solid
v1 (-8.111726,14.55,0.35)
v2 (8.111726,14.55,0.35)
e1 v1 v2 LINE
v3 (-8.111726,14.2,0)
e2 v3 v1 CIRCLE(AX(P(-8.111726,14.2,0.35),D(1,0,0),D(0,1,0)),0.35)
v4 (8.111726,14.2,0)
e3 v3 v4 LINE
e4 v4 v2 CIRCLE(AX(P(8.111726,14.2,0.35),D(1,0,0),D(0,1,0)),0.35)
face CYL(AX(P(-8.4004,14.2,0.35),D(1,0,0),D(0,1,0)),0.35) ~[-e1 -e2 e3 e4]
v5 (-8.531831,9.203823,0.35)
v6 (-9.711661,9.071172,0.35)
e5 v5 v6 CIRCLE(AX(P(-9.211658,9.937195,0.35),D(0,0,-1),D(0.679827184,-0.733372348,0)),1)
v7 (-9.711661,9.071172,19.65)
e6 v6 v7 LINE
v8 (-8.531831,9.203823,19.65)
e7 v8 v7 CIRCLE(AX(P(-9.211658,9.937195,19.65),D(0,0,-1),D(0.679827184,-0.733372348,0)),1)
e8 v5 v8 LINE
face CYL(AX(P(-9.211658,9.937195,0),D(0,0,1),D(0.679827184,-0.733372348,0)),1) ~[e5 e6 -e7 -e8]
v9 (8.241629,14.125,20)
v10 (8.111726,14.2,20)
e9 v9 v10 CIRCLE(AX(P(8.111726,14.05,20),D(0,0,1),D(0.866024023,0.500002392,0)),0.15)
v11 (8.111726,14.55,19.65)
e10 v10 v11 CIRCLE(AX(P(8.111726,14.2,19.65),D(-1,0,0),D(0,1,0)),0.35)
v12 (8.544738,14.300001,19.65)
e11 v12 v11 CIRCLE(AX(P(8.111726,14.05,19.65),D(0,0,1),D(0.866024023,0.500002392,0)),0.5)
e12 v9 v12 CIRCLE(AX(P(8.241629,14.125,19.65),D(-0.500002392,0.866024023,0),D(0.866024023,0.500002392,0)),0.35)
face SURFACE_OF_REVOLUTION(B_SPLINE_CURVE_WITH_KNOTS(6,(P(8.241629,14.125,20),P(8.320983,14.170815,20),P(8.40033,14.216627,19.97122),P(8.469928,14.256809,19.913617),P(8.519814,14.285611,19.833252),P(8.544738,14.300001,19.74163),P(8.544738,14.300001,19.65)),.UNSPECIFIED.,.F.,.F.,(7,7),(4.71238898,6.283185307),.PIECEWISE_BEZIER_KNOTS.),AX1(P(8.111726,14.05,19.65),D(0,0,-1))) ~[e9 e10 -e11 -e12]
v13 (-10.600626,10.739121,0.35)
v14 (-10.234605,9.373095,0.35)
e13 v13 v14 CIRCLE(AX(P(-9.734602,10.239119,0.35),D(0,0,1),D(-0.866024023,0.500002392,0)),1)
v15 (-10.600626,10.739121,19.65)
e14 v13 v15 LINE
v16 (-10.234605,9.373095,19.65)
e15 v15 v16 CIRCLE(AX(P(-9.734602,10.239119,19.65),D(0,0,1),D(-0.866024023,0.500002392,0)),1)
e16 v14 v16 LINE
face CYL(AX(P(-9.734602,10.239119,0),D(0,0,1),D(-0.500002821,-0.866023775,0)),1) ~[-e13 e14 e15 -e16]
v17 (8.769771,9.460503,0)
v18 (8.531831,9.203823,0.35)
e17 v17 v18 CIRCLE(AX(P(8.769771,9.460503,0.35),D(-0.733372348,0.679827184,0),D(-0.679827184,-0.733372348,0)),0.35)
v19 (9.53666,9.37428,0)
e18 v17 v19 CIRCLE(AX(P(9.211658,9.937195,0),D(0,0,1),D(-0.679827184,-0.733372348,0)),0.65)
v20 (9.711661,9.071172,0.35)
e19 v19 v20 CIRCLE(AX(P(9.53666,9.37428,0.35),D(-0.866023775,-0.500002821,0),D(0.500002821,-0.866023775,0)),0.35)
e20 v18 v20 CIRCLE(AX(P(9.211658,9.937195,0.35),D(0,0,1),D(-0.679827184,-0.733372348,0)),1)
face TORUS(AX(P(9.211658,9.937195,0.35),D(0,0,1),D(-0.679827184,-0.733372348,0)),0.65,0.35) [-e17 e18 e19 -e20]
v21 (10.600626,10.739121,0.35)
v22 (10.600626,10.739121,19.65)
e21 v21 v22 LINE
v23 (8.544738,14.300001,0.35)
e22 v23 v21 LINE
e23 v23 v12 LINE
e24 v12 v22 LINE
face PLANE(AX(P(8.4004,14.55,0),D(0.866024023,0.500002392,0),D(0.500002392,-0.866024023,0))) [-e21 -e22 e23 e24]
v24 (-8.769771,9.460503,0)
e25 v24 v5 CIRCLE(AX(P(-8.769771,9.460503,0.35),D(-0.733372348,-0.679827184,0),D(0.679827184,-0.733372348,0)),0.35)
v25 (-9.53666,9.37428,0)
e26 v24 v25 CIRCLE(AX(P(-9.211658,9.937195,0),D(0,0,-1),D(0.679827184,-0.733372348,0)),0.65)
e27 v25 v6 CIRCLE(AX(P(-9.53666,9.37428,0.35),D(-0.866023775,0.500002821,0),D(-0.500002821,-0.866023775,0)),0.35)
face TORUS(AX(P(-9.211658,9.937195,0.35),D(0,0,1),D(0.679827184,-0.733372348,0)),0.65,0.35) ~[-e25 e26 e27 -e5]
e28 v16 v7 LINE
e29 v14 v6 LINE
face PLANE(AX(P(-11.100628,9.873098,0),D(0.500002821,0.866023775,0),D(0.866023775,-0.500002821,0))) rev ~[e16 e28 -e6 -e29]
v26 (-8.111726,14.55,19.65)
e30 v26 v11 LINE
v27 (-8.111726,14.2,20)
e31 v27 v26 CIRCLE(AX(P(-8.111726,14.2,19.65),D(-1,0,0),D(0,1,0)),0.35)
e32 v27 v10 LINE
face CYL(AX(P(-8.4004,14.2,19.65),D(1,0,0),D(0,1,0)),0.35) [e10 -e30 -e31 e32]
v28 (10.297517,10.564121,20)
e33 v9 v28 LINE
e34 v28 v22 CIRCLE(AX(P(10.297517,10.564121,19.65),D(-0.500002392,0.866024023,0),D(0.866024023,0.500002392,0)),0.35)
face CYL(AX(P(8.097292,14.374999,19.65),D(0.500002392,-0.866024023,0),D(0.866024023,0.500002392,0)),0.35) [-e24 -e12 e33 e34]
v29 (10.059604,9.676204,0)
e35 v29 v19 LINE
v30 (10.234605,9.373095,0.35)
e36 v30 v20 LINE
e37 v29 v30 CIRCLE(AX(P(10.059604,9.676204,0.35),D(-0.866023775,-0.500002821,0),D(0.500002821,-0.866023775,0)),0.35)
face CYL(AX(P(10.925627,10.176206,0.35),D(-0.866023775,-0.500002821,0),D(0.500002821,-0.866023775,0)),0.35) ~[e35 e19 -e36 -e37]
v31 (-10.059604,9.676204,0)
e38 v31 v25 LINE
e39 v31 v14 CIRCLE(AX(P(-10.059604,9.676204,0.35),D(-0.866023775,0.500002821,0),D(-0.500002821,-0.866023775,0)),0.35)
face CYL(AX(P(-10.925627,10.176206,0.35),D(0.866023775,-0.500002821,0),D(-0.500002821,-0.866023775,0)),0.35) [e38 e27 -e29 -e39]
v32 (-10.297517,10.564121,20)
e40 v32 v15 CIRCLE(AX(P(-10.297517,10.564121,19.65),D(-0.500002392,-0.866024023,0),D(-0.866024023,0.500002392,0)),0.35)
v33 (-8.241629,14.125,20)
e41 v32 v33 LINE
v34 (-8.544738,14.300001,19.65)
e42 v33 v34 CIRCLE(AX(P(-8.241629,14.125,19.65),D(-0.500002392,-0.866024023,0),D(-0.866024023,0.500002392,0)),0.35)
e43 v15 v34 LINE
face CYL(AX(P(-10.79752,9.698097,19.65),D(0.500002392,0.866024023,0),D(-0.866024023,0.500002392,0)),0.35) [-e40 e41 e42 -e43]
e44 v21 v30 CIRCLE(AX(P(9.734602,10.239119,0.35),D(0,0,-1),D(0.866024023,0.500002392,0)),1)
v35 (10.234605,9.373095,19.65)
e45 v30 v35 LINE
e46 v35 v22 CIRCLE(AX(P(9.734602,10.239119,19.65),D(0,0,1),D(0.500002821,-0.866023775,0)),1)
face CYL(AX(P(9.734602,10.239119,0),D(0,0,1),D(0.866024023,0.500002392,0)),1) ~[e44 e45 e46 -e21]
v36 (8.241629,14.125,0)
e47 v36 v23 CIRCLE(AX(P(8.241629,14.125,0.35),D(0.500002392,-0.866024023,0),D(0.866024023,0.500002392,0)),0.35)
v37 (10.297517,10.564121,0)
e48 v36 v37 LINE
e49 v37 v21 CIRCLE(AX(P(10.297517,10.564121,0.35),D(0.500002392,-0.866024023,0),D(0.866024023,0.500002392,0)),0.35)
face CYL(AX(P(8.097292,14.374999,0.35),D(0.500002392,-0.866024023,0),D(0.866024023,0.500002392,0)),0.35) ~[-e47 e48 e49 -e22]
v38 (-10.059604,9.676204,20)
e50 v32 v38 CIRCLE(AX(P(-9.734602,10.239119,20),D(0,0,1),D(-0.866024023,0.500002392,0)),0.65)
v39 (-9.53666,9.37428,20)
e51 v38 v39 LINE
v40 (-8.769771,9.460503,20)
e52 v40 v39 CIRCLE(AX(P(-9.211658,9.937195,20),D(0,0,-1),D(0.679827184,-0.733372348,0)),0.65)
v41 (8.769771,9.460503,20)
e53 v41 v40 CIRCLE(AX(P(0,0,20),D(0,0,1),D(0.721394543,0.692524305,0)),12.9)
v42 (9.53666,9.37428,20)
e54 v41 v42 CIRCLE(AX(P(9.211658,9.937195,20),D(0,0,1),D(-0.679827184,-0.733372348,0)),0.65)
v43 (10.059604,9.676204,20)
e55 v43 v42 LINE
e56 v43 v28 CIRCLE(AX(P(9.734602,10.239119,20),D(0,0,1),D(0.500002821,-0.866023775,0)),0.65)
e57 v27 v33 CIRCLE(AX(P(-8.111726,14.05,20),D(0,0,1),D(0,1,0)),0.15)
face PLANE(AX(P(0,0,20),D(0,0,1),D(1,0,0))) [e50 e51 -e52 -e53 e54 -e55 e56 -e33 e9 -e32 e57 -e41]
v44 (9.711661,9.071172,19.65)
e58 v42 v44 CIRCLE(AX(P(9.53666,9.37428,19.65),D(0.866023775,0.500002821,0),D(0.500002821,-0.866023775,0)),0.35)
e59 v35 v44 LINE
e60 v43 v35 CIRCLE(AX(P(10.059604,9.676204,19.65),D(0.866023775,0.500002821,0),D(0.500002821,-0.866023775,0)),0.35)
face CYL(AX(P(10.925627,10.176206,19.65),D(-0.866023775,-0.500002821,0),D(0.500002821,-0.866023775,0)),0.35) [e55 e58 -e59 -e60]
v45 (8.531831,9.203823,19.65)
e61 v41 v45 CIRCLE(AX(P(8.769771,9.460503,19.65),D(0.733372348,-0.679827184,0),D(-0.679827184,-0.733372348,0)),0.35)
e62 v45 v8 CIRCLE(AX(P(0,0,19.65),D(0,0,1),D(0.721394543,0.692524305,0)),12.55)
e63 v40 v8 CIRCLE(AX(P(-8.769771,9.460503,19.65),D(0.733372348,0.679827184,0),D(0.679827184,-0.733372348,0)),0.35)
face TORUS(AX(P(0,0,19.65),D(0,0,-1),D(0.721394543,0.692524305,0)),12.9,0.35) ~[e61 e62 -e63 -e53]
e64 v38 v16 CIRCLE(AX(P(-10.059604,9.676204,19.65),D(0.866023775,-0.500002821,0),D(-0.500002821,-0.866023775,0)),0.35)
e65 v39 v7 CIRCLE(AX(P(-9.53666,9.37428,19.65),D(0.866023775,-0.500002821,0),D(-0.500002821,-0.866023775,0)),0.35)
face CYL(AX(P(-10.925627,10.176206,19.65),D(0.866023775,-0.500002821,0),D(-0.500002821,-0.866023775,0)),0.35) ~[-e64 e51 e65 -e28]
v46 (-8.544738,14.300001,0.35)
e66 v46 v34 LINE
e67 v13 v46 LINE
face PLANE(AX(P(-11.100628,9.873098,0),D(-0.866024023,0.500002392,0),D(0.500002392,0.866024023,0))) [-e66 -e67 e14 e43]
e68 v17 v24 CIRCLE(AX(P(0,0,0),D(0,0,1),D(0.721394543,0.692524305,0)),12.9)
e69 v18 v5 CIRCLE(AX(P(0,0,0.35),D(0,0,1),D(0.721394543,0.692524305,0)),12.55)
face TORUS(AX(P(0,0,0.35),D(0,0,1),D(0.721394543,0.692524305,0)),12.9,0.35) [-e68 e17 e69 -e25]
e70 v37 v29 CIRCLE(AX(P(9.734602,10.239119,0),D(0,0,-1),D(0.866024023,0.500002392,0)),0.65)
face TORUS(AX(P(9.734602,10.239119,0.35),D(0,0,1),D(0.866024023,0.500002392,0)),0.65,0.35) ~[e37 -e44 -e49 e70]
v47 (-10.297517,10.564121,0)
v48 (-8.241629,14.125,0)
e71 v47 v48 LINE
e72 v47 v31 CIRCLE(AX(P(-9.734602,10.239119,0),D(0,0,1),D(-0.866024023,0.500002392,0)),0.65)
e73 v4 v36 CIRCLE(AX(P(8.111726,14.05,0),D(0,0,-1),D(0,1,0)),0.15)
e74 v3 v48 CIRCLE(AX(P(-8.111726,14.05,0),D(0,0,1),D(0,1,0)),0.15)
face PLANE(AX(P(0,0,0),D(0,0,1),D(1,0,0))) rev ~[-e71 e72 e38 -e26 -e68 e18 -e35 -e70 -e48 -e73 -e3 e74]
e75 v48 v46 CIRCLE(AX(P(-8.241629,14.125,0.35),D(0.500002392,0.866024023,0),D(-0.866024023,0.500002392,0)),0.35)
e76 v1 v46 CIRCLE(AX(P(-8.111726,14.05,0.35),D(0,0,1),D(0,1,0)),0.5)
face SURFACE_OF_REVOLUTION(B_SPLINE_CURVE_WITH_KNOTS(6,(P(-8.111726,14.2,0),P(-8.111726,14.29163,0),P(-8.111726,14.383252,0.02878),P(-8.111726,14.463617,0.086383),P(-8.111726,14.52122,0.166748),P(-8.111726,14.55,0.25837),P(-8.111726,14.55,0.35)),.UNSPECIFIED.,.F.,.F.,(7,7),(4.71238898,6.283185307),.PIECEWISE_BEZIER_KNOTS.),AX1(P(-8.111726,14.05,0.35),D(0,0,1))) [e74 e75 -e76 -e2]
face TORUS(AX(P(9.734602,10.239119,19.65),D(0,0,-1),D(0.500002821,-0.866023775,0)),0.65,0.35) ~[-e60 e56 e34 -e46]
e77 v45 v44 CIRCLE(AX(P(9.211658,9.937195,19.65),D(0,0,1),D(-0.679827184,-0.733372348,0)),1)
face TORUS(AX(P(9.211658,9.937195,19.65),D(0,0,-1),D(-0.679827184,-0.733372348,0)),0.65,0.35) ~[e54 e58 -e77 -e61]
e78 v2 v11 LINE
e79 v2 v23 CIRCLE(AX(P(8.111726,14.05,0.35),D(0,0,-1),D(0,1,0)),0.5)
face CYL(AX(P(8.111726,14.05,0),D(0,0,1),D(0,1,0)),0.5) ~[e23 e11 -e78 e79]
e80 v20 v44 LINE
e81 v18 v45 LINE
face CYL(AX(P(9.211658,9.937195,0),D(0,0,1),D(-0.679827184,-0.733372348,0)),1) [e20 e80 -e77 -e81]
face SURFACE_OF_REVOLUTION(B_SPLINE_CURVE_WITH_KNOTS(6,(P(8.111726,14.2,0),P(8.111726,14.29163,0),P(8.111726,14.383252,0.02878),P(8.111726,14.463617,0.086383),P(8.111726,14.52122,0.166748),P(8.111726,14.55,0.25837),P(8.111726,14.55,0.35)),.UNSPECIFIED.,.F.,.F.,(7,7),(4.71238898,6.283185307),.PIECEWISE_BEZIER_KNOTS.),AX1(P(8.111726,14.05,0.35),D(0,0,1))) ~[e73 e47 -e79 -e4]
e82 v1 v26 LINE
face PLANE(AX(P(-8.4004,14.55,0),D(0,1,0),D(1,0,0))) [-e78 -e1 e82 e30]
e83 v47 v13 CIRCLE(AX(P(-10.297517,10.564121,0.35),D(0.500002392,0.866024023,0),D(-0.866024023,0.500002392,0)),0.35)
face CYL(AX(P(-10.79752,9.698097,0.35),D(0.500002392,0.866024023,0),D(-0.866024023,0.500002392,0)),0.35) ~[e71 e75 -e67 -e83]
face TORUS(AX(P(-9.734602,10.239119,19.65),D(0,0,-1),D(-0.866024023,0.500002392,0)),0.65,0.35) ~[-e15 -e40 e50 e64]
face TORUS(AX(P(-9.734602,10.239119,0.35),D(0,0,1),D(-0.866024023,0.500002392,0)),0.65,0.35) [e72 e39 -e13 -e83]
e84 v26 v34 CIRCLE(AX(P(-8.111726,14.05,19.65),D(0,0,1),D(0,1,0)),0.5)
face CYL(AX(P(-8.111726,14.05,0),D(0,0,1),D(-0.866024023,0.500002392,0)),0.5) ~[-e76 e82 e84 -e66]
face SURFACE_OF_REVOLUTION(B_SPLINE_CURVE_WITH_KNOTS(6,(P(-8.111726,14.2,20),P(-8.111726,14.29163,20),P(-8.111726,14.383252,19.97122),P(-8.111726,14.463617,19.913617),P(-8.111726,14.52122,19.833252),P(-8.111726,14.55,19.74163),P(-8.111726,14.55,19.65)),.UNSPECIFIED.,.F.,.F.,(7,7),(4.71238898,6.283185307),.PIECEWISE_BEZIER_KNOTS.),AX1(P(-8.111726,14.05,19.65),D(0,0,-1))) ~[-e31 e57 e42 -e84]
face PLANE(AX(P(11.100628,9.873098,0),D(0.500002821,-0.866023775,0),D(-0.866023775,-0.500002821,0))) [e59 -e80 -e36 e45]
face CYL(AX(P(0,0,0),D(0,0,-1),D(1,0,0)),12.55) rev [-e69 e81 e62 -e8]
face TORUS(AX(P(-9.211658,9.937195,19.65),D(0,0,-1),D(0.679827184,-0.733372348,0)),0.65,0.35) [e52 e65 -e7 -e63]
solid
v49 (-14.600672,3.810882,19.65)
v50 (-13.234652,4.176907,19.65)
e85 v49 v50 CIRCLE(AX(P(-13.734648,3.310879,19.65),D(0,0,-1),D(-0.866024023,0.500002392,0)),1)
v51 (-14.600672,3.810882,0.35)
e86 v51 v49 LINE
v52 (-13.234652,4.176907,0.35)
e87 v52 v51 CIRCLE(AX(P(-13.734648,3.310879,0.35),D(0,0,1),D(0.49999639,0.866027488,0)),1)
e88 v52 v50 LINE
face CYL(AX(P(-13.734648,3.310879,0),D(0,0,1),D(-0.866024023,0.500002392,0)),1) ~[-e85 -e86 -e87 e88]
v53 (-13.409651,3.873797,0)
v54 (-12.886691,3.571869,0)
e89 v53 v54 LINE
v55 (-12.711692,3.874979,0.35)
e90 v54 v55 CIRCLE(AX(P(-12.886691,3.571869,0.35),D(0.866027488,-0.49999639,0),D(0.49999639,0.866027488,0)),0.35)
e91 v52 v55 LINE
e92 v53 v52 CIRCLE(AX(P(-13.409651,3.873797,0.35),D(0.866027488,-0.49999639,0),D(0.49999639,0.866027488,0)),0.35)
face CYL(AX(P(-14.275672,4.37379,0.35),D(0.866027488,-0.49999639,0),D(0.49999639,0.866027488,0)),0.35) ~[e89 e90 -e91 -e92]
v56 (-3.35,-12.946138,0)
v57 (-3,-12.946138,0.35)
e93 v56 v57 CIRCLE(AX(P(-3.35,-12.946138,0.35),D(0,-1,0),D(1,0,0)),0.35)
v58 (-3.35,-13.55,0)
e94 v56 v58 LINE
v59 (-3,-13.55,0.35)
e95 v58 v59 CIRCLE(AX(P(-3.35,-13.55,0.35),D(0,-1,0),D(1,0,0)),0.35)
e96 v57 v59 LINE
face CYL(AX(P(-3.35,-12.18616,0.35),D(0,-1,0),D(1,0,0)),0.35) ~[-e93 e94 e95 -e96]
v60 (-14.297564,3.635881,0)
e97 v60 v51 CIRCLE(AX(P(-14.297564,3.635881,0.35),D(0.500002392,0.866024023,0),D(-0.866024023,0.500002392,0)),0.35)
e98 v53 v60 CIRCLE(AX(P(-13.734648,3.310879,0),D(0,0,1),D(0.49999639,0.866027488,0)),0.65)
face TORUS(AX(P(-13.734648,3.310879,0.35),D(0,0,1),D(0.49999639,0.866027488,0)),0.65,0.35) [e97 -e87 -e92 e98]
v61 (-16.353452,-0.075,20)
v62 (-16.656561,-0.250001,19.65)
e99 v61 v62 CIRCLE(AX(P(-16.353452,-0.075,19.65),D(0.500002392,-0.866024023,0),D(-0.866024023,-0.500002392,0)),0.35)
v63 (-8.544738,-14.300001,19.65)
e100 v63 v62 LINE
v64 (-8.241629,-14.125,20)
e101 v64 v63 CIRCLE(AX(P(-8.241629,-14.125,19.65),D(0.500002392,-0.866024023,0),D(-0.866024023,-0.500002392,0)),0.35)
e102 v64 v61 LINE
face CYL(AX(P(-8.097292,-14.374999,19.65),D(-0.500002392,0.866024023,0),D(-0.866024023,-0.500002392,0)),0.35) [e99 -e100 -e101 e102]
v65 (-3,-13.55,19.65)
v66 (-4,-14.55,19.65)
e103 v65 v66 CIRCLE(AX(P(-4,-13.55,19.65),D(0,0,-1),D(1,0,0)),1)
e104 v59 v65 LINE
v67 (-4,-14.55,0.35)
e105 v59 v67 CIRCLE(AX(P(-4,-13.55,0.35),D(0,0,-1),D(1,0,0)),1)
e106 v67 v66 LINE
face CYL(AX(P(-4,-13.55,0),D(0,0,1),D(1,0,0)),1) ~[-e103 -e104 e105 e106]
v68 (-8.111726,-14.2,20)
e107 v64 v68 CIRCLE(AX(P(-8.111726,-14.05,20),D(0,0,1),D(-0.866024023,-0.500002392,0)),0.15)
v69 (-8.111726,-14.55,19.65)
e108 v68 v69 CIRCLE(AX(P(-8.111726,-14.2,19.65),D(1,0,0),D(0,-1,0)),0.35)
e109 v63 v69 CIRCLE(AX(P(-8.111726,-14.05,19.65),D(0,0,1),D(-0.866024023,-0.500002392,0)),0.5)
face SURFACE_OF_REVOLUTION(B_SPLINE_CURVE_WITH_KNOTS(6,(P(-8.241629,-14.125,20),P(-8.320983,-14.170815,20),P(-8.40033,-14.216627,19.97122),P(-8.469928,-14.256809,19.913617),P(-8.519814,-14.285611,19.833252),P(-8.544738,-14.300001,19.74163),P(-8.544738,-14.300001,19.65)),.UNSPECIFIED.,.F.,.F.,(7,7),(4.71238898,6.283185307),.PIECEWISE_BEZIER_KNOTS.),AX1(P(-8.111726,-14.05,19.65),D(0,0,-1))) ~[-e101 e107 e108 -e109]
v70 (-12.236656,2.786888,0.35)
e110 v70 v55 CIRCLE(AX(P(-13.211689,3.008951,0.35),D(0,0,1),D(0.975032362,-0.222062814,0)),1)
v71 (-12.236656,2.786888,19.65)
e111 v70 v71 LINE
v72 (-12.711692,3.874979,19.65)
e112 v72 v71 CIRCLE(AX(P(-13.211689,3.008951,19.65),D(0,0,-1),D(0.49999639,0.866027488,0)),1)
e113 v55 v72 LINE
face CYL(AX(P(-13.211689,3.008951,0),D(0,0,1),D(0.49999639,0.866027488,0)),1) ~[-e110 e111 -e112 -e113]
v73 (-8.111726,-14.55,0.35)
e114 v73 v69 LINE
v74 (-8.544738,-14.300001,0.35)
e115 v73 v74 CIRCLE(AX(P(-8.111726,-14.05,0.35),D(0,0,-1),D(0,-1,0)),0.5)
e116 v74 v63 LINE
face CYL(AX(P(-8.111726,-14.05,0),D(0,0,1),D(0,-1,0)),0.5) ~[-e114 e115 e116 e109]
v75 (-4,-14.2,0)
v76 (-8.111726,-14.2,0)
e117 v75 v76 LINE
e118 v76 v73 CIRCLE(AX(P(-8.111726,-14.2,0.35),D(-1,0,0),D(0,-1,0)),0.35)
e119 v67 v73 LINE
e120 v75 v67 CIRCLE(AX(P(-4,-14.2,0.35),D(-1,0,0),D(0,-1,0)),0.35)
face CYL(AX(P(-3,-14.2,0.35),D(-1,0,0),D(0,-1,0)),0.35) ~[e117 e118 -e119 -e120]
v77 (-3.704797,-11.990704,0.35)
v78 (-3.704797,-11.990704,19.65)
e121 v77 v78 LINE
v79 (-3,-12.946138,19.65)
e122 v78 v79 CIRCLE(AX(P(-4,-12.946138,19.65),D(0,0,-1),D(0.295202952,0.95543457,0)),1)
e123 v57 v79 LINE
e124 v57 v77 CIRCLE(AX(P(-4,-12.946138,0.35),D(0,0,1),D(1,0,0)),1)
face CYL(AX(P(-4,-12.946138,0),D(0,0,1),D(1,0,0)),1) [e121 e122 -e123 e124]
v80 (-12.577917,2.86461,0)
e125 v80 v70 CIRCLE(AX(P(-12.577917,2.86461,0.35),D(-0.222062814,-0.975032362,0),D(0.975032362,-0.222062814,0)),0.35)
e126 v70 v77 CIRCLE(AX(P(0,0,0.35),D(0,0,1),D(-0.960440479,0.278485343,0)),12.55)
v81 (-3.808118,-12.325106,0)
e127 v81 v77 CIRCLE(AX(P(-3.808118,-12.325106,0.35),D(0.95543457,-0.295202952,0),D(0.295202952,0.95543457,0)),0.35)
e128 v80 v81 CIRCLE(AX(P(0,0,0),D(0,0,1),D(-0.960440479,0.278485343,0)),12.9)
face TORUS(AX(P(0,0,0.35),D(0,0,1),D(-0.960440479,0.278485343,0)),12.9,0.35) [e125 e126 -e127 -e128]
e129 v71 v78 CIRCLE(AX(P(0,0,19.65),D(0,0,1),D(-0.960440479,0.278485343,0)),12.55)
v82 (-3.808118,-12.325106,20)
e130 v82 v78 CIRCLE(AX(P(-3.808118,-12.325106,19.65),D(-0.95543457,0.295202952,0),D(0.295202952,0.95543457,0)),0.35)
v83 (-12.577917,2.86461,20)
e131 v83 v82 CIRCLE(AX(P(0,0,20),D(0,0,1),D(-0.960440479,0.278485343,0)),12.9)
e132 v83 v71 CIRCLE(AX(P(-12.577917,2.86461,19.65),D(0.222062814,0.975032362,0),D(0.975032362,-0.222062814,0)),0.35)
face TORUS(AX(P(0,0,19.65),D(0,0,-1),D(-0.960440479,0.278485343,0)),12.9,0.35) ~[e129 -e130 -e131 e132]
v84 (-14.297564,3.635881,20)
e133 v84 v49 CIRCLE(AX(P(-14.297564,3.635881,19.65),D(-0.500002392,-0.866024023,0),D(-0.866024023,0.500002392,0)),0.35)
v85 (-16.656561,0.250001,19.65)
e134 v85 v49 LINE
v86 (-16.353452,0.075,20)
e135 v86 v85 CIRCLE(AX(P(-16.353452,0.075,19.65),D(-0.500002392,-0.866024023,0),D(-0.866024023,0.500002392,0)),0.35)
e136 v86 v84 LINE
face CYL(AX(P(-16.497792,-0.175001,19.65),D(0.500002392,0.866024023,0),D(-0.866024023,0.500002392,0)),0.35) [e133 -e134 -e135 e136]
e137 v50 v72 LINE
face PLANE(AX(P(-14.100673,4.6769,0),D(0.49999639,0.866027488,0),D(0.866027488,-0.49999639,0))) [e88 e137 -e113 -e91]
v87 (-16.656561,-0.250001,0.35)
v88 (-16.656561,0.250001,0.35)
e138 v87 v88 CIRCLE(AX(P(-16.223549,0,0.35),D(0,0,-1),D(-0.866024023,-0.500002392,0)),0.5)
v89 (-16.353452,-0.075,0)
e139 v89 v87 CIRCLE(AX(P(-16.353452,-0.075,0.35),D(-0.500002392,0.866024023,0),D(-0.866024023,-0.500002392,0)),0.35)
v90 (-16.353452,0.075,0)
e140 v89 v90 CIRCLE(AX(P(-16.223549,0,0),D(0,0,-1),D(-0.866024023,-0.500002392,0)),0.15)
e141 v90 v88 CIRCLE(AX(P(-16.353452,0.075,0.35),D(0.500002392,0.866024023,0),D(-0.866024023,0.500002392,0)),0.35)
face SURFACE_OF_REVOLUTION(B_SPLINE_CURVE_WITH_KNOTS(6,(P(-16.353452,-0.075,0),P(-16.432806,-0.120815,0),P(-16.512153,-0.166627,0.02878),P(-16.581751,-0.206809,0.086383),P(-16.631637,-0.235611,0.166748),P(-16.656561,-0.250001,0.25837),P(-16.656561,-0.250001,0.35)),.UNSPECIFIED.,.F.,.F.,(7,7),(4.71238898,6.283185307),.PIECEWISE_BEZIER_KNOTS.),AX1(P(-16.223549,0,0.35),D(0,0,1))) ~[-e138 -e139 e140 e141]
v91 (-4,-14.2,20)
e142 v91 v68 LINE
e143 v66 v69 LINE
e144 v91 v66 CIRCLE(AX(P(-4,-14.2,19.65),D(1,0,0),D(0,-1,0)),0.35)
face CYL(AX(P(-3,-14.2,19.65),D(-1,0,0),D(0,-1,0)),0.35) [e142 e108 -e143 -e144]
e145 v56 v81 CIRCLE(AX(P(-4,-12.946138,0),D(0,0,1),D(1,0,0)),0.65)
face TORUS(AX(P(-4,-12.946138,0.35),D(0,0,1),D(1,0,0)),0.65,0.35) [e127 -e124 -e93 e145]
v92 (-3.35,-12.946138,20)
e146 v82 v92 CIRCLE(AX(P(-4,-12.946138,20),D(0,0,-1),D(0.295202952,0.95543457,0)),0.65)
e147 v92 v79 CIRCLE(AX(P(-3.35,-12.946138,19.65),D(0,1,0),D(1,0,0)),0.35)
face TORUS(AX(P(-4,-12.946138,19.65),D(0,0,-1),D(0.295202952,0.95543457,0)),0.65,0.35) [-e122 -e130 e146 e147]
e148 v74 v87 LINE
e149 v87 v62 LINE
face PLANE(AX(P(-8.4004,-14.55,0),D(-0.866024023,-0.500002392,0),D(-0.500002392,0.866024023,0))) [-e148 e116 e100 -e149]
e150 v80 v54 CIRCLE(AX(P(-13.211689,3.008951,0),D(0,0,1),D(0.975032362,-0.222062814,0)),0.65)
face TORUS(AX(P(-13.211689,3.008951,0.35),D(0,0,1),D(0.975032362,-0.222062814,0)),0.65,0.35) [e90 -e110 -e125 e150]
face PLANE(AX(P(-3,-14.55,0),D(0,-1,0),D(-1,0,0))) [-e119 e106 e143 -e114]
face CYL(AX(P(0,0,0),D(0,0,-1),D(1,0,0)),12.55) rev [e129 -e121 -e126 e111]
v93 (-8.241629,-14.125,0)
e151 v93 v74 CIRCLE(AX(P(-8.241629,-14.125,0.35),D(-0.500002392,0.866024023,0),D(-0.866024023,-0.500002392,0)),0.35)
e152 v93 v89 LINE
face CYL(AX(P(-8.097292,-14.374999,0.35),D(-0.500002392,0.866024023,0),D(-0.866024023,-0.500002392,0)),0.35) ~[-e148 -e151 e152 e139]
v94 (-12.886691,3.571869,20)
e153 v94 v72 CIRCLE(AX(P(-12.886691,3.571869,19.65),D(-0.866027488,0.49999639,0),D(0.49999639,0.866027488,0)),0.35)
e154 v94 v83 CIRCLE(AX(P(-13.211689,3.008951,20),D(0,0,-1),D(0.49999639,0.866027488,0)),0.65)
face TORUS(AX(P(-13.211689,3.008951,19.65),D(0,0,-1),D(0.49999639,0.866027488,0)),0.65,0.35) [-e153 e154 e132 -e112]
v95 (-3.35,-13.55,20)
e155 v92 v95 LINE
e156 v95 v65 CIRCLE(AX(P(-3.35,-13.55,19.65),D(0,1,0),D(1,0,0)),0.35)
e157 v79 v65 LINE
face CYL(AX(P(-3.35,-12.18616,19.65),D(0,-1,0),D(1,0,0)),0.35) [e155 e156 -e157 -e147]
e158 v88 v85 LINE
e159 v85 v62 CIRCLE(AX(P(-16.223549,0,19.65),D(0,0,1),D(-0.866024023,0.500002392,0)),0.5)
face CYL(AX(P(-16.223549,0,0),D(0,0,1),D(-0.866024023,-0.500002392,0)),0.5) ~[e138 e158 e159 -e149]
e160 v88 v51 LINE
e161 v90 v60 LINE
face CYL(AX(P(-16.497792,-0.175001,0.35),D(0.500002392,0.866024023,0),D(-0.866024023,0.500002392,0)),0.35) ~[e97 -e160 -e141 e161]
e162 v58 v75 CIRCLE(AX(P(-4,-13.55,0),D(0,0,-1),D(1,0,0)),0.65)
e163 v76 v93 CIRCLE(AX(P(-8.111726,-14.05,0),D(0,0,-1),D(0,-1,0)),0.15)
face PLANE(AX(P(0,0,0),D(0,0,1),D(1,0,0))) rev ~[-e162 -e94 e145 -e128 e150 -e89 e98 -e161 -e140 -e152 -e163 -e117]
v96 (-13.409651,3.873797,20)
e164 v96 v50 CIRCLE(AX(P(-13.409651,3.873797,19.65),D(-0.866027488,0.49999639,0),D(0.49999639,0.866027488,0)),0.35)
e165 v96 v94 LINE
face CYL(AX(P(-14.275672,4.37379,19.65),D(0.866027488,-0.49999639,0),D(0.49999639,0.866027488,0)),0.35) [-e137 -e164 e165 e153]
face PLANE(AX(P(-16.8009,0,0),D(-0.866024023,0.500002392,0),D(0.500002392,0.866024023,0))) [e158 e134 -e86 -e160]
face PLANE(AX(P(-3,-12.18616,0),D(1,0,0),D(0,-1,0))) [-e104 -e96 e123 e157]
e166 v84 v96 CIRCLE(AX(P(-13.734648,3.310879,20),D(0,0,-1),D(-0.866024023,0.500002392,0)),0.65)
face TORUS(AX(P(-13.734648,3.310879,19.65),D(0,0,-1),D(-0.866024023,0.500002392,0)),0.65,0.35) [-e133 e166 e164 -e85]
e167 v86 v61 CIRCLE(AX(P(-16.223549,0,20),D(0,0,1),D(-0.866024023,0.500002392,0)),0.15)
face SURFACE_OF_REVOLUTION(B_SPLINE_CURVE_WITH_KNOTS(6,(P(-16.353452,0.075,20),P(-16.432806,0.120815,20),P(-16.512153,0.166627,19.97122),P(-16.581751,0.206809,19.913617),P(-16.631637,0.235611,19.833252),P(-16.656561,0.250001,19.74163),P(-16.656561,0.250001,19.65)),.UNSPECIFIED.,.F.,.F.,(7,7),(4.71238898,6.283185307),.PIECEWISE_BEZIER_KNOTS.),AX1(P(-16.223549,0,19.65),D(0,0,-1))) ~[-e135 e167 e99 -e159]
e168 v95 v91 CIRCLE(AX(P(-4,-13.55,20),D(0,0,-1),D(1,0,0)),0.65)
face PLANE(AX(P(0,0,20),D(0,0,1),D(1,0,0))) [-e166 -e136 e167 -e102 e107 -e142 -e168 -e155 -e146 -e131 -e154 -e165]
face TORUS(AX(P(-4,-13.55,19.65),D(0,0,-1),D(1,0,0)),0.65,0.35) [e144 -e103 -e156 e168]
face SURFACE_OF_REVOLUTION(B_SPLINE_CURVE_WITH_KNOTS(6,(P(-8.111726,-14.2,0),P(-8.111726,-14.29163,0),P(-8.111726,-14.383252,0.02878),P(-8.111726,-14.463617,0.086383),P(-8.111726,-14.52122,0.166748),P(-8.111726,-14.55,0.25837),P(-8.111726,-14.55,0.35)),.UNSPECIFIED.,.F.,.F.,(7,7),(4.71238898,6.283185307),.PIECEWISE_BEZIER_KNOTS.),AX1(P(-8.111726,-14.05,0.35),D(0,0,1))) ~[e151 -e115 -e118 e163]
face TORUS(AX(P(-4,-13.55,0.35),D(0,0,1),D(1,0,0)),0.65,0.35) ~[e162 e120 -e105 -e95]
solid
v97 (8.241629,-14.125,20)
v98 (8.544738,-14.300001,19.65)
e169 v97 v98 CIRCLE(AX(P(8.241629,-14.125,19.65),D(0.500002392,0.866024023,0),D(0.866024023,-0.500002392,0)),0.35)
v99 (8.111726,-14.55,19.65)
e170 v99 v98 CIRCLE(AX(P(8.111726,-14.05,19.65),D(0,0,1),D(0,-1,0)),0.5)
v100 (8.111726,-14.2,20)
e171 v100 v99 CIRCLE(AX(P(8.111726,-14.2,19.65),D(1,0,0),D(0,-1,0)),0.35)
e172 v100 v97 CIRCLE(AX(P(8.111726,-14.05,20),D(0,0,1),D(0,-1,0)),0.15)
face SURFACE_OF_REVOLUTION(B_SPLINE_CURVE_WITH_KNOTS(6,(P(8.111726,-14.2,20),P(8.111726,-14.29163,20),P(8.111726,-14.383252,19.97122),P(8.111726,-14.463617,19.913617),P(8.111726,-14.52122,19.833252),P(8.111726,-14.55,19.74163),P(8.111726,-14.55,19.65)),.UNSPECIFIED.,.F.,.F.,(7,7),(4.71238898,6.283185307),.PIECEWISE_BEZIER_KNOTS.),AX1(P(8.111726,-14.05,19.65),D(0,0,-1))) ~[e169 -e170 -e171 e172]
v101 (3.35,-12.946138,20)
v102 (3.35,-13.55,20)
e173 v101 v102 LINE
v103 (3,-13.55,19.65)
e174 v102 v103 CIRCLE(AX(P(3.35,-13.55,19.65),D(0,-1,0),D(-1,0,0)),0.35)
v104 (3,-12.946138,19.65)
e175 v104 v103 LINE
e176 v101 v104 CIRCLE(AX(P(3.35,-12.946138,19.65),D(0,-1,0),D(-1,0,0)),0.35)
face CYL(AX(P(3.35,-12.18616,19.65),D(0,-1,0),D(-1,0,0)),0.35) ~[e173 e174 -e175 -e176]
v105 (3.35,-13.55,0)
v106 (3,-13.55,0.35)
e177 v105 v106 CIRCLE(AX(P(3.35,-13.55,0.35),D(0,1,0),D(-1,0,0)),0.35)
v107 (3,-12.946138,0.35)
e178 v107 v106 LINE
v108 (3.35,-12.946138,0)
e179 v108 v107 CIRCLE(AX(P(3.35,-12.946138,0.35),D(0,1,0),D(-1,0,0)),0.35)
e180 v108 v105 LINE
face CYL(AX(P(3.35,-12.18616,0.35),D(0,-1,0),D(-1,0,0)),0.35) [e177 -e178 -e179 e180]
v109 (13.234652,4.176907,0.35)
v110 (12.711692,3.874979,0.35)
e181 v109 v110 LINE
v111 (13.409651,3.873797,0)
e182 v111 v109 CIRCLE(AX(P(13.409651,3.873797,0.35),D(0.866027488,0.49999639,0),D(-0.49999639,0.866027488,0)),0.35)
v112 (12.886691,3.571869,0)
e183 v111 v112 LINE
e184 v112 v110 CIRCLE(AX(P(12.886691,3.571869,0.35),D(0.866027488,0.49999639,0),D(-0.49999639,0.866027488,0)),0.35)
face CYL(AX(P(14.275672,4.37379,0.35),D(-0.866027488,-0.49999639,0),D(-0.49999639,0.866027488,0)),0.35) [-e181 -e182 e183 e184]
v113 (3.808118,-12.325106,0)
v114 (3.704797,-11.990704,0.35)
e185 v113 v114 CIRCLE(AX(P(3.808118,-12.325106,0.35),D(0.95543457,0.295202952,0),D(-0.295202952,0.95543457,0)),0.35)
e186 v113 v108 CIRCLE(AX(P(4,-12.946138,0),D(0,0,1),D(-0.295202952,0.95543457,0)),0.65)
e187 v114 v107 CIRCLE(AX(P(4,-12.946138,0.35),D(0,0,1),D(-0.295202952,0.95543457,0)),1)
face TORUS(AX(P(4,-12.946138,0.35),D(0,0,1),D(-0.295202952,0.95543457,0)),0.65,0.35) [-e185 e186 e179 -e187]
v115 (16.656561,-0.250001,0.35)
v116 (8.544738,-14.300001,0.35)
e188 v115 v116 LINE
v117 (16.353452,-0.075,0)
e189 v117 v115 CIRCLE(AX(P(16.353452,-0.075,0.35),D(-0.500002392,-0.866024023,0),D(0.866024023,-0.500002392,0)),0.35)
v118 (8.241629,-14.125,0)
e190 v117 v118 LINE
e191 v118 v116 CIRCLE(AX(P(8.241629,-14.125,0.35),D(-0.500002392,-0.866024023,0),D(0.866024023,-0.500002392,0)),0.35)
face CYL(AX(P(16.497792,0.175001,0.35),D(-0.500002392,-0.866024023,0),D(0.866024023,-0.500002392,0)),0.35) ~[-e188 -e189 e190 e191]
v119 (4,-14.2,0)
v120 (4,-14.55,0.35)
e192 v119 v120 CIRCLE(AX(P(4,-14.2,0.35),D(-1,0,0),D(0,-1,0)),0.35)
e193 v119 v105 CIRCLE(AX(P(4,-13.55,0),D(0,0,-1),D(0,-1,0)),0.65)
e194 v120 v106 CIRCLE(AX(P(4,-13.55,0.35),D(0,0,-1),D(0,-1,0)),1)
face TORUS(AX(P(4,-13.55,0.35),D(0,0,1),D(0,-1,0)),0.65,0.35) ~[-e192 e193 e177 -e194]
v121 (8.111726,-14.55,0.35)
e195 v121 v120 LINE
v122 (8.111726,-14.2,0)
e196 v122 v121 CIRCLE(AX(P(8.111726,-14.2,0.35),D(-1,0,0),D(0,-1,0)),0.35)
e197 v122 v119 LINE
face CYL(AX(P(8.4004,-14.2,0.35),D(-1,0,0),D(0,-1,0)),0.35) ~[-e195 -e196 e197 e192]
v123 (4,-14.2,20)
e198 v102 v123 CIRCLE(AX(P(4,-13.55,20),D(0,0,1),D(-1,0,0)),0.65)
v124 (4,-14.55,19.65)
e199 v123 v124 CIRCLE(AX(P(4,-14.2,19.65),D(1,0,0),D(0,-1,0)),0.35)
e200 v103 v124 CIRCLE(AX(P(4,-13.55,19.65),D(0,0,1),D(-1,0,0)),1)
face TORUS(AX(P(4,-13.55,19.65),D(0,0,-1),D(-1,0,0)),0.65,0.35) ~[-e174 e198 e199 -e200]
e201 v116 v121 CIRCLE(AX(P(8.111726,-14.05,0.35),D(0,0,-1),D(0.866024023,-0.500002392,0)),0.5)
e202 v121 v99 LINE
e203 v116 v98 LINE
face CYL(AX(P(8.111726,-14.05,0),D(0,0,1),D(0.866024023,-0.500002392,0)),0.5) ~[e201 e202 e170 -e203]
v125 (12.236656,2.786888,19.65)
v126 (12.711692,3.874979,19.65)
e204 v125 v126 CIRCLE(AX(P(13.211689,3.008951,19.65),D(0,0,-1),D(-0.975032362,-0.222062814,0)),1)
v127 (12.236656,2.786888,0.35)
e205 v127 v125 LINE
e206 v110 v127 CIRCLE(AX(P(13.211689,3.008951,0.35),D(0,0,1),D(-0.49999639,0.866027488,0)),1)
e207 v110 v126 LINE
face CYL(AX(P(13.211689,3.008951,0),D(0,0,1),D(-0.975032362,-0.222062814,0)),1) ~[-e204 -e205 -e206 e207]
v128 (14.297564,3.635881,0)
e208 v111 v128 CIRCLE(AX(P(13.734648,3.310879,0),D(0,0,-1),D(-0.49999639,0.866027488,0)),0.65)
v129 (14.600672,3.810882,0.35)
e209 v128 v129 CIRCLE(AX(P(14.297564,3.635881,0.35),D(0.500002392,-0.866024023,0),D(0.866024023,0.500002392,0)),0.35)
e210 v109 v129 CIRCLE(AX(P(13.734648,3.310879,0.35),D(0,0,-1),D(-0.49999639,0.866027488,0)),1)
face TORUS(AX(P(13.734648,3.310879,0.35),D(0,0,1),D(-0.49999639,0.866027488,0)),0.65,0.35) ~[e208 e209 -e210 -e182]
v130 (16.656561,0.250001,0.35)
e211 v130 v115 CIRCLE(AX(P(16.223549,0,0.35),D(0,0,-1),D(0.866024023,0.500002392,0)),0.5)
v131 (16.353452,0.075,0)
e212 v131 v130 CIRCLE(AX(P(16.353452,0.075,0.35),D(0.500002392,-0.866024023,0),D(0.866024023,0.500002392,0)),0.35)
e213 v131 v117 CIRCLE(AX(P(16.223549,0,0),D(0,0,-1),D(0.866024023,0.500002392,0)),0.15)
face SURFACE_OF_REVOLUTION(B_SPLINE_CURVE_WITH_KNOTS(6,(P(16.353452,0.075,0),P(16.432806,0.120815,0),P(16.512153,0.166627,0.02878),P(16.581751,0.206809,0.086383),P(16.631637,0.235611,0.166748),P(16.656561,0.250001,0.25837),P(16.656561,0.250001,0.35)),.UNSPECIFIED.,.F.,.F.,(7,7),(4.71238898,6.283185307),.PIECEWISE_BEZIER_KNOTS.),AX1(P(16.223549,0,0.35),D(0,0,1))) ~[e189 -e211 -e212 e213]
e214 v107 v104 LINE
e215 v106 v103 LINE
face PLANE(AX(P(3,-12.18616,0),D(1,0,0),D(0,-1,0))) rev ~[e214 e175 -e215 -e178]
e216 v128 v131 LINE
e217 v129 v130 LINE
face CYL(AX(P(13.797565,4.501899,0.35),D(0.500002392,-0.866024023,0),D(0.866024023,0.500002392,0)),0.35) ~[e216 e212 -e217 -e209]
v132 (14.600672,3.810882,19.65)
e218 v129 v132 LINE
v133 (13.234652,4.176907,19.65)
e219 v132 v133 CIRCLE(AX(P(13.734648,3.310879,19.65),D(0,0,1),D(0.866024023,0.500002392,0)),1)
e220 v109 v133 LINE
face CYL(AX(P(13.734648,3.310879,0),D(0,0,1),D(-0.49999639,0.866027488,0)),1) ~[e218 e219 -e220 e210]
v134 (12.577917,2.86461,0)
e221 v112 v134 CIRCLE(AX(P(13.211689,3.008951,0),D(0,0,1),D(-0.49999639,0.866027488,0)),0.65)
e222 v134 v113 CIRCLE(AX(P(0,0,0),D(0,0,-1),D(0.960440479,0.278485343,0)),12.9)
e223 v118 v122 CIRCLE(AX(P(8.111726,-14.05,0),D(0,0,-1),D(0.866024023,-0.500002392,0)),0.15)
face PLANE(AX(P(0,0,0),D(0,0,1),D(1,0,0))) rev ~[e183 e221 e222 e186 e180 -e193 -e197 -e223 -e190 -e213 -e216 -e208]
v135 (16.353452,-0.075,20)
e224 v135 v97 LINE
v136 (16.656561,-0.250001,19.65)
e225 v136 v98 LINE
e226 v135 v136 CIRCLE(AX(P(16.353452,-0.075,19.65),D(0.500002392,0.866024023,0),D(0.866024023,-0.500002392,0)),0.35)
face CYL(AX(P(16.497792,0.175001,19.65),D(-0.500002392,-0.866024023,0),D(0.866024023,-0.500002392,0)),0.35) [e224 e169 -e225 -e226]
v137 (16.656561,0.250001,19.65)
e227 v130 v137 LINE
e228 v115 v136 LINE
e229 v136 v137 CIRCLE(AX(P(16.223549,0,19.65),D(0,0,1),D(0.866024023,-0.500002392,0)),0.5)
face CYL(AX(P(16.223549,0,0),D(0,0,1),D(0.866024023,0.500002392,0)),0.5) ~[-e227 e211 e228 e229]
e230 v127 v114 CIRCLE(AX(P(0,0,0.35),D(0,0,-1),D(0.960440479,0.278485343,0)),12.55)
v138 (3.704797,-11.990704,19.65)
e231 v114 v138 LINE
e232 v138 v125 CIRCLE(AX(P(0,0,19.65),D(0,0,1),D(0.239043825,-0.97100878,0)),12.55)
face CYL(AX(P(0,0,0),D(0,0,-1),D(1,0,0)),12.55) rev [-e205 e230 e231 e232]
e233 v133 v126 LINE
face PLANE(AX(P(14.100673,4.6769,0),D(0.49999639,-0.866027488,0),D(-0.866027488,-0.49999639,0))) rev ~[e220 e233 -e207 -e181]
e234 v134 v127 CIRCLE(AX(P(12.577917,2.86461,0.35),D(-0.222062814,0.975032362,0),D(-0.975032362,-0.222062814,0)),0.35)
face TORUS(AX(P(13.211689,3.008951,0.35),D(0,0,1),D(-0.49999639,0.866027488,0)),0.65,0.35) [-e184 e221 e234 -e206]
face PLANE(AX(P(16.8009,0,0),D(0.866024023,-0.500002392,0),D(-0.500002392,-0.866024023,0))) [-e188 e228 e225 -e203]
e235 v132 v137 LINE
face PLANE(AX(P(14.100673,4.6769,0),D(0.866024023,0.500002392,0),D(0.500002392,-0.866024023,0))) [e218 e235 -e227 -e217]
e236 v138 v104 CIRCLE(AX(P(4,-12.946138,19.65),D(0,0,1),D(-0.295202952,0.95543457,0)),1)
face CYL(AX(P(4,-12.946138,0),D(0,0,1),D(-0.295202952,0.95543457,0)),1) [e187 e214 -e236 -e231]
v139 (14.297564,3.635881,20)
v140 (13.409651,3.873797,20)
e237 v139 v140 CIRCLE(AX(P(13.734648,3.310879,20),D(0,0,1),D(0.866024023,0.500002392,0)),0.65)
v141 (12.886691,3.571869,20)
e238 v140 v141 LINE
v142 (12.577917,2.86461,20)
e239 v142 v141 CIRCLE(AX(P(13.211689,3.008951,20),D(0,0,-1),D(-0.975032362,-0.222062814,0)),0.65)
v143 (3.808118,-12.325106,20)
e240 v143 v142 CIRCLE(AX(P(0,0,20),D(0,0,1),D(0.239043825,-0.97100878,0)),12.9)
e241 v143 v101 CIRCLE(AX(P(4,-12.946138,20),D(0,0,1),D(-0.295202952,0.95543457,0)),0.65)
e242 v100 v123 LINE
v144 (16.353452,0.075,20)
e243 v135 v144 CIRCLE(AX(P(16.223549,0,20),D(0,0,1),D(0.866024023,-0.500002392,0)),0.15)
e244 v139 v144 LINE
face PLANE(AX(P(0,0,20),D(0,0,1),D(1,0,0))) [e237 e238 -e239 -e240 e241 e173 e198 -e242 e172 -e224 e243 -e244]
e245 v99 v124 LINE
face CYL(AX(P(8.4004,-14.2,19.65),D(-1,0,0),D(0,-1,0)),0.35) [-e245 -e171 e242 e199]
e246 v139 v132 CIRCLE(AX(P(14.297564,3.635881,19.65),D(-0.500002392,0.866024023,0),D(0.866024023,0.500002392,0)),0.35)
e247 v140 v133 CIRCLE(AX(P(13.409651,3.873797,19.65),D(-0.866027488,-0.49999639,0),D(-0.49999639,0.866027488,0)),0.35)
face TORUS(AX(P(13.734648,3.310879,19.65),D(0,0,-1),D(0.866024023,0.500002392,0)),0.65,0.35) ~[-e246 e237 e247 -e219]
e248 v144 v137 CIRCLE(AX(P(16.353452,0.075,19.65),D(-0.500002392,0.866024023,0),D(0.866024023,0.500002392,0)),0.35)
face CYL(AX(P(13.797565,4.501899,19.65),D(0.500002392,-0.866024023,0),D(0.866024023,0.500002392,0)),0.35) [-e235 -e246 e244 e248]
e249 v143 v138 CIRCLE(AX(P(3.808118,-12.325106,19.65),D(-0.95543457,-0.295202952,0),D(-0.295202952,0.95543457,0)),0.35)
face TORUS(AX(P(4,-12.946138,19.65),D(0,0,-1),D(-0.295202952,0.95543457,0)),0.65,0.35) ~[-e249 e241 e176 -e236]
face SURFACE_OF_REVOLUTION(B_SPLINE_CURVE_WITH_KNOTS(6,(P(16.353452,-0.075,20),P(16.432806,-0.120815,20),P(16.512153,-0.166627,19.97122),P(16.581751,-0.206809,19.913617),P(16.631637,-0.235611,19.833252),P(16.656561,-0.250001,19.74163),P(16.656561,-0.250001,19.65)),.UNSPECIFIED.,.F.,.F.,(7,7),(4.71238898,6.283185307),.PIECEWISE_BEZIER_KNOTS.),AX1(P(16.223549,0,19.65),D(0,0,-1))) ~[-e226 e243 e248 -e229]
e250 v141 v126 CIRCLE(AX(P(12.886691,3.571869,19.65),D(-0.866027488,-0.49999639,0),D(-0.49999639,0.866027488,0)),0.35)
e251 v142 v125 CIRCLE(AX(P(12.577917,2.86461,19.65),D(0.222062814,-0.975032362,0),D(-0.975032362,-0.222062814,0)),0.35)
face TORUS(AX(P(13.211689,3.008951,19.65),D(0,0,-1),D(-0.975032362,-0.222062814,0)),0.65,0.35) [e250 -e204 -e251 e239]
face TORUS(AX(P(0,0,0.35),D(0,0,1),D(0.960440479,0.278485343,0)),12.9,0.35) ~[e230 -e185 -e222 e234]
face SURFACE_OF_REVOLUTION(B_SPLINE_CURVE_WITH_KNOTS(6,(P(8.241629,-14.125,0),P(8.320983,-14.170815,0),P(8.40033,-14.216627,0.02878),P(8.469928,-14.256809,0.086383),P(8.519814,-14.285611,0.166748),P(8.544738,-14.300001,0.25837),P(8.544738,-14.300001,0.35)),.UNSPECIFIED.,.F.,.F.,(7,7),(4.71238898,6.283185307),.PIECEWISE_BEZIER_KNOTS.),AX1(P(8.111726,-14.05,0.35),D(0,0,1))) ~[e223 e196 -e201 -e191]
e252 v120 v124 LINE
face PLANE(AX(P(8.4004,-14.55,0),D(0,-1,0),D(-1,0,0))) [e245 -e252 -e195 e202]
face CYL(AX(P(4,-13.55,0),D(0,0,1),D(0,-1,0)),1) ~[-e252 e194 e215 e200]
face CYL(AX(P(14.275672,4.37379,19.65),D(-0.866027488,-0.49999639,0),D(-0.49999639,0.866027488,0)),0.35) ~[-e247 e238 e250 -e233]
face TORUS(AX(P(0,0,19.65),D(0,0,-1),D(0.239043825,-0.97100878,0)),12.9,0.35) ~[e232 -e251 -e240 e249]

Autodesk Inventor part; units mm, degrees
ref_plane "YZ Plane" through (0, 0, 0) normal (1, 0, 0) x (0, 1, 0)
ref_plane "XZ Plane" through (0, 0, 0) normal (0, 1, 0) x (-1, 0, 0)
ref_plane "XY Plane" through (0, 0, 0) normal (0, 0, 1) x (1, 0, 0)
sketch "Náčrt1" plane through (0, 0, 0) normal (0, 0, 1) x (1, 0, 0)
  circle A0 centre (0, 0) radius 12.55
  line L0 (8.4004, 14.55) -> (16.8009, 0)
  line L1 (16.8009, 0) -> (8.4004, -14.55)
  line L2 (8.4004, -14.55) -> (-8.4004, -14.55)
  line L3 (-8.4004, -14.55) -> (-16.8009, 0)
  line L4 (-16.8009, 0) -> (-8.4004, 14.55)
  line L5 (-8.4004, 14.55) -> (8.4004, 14.55)
  circle A1 centre (0, 0) radius 14 construction
  line L6 (-12.6007, 7.275) -> (0, 0)
  line L7 (0, 0) -> (0, -14.55)
  line L8 (-11.2676, 9.9695) -> (1.4776, 2.611)
  line L9 (-14.5304, 4.925) -> (-1.5224, -2.5851)
  line L10 (-3, -0.05) -> (-3, -14.55)
  line L11 (3, -0.05) -> (3, -14.55)
  line L12 (0, 14.55) -> (0, 0) construction
  line L13 (11.2676, 9.9695) -> (-1.4776, 2.611)
  line L14 (14.5304, 4.925) -> (1.5224, -2.5851)
  point P0 (14.1007, 4.6769)
  point P1 (12.0535, 3.495)
  point P2 (3, -12.1862)
  point P3 (3, -14.55)
  point P4 (-3, -14.55)
  point P5 (-3, -12.1862)
  point P6 (-12.0535, 3.495)
  point P7 (-14.1007, 4.6769)
  point P8 (-11.1007, 9.8731)
  point P9 (-9.0535, 8.6912)
  point P10 (9.0535, 8.6912)
  point P11 (11.1007, 9.8731)
  dimension "d0" = 25.1
  dimension "d1" = 14.55
  dimension "d2" = 28
  dimension "d4" = 3
  dimension "d5" = 3
  dimension "d6" = 3
  dimension "d7" = 3
extrude "Vysunutí1" add sketch "Náčrt1" along normal blind 20 contours A0 L14 L0 L1 L2 L11 | A0 L8 L4 L5 L0 L13 | L10 L2 L3 L4 L9 A0
fillet "Zaoblení1" radius 1 12 edges at (-12.0535, 3.495, 10) (-9.0535, 8.6912, 10) (-11.1007, 9.8731, 10) (-14.1007, 4.6769, 10) (11.1007, 9.8731, 10) (9.0535, 8.6912, 10) (14.1007, 4.6769, 10) (12.0535, 3.495, 10) (3, -12.1862, 10) (3, -14.55, 10) (-3, -12.1862, 10) (-3, -14.55, 10)
fillet "Zaoblení1" radius 0.5 6 edges at (-16.8009, 0, 10) (-8.4004, -14.55, 10) (-8.4004, 14.55, 10) (8.4004, 14.55, 10) (16.8009, 0, 10) (8.4004, -14.55, 10)
fillet "Zaoblení1" radius 0.35 36 edges at (-15.4508, 2.3385, 20) (-13.0771, 4.086, 20) (-10.8686, -6.275, 20) (-12.6007, -7.275, 20) (-3, -13.3681, 20) (-5.7002, -14.55, 20) (10.8686, -6.275, 20) (3, -13.3681, 20) (5.7002, -14.55, 20) (12.6007, -7.275, 20) (15.4508, 2.3385, 20) (13.0771, 4.086, 20) (0, 12.55, 20) (10.0771, 9.2821, 20) (9.7506, 12.2115, 20) (0, 14.55, 20) (-9.7506, 12.2115, 20) (-10.0771, 9.2821, 20) (0, 12.55, 0) (0, 14.55, 0) (-9.7506, 12.2115, 0) (-10.0771, 9.2821, 0) (9.7506, 12.2115, 0) (10.0771, 9.2821, 0) (13.0771, 4.086, 0) (15.4508, 2.3385, 0) (10.8686, -6.275, 0) (12.6007, -7.275, 0) (5.7002, -14.55, 0) (3, -13.3681, 0) (-3, -13.3681, 0) (-5.7002, -14.55, 0) (-10.8686, -6.275, 0) (-12.6007, -7.275, 0) (-13.0771, 4.086, 0) (-15.4508, 2.3385, 0)
equation "\"d5\" = d4"
equation "\"d6\" = d4"
equation "\"d7\" = d4"
properties part number "wheel holding tools"
